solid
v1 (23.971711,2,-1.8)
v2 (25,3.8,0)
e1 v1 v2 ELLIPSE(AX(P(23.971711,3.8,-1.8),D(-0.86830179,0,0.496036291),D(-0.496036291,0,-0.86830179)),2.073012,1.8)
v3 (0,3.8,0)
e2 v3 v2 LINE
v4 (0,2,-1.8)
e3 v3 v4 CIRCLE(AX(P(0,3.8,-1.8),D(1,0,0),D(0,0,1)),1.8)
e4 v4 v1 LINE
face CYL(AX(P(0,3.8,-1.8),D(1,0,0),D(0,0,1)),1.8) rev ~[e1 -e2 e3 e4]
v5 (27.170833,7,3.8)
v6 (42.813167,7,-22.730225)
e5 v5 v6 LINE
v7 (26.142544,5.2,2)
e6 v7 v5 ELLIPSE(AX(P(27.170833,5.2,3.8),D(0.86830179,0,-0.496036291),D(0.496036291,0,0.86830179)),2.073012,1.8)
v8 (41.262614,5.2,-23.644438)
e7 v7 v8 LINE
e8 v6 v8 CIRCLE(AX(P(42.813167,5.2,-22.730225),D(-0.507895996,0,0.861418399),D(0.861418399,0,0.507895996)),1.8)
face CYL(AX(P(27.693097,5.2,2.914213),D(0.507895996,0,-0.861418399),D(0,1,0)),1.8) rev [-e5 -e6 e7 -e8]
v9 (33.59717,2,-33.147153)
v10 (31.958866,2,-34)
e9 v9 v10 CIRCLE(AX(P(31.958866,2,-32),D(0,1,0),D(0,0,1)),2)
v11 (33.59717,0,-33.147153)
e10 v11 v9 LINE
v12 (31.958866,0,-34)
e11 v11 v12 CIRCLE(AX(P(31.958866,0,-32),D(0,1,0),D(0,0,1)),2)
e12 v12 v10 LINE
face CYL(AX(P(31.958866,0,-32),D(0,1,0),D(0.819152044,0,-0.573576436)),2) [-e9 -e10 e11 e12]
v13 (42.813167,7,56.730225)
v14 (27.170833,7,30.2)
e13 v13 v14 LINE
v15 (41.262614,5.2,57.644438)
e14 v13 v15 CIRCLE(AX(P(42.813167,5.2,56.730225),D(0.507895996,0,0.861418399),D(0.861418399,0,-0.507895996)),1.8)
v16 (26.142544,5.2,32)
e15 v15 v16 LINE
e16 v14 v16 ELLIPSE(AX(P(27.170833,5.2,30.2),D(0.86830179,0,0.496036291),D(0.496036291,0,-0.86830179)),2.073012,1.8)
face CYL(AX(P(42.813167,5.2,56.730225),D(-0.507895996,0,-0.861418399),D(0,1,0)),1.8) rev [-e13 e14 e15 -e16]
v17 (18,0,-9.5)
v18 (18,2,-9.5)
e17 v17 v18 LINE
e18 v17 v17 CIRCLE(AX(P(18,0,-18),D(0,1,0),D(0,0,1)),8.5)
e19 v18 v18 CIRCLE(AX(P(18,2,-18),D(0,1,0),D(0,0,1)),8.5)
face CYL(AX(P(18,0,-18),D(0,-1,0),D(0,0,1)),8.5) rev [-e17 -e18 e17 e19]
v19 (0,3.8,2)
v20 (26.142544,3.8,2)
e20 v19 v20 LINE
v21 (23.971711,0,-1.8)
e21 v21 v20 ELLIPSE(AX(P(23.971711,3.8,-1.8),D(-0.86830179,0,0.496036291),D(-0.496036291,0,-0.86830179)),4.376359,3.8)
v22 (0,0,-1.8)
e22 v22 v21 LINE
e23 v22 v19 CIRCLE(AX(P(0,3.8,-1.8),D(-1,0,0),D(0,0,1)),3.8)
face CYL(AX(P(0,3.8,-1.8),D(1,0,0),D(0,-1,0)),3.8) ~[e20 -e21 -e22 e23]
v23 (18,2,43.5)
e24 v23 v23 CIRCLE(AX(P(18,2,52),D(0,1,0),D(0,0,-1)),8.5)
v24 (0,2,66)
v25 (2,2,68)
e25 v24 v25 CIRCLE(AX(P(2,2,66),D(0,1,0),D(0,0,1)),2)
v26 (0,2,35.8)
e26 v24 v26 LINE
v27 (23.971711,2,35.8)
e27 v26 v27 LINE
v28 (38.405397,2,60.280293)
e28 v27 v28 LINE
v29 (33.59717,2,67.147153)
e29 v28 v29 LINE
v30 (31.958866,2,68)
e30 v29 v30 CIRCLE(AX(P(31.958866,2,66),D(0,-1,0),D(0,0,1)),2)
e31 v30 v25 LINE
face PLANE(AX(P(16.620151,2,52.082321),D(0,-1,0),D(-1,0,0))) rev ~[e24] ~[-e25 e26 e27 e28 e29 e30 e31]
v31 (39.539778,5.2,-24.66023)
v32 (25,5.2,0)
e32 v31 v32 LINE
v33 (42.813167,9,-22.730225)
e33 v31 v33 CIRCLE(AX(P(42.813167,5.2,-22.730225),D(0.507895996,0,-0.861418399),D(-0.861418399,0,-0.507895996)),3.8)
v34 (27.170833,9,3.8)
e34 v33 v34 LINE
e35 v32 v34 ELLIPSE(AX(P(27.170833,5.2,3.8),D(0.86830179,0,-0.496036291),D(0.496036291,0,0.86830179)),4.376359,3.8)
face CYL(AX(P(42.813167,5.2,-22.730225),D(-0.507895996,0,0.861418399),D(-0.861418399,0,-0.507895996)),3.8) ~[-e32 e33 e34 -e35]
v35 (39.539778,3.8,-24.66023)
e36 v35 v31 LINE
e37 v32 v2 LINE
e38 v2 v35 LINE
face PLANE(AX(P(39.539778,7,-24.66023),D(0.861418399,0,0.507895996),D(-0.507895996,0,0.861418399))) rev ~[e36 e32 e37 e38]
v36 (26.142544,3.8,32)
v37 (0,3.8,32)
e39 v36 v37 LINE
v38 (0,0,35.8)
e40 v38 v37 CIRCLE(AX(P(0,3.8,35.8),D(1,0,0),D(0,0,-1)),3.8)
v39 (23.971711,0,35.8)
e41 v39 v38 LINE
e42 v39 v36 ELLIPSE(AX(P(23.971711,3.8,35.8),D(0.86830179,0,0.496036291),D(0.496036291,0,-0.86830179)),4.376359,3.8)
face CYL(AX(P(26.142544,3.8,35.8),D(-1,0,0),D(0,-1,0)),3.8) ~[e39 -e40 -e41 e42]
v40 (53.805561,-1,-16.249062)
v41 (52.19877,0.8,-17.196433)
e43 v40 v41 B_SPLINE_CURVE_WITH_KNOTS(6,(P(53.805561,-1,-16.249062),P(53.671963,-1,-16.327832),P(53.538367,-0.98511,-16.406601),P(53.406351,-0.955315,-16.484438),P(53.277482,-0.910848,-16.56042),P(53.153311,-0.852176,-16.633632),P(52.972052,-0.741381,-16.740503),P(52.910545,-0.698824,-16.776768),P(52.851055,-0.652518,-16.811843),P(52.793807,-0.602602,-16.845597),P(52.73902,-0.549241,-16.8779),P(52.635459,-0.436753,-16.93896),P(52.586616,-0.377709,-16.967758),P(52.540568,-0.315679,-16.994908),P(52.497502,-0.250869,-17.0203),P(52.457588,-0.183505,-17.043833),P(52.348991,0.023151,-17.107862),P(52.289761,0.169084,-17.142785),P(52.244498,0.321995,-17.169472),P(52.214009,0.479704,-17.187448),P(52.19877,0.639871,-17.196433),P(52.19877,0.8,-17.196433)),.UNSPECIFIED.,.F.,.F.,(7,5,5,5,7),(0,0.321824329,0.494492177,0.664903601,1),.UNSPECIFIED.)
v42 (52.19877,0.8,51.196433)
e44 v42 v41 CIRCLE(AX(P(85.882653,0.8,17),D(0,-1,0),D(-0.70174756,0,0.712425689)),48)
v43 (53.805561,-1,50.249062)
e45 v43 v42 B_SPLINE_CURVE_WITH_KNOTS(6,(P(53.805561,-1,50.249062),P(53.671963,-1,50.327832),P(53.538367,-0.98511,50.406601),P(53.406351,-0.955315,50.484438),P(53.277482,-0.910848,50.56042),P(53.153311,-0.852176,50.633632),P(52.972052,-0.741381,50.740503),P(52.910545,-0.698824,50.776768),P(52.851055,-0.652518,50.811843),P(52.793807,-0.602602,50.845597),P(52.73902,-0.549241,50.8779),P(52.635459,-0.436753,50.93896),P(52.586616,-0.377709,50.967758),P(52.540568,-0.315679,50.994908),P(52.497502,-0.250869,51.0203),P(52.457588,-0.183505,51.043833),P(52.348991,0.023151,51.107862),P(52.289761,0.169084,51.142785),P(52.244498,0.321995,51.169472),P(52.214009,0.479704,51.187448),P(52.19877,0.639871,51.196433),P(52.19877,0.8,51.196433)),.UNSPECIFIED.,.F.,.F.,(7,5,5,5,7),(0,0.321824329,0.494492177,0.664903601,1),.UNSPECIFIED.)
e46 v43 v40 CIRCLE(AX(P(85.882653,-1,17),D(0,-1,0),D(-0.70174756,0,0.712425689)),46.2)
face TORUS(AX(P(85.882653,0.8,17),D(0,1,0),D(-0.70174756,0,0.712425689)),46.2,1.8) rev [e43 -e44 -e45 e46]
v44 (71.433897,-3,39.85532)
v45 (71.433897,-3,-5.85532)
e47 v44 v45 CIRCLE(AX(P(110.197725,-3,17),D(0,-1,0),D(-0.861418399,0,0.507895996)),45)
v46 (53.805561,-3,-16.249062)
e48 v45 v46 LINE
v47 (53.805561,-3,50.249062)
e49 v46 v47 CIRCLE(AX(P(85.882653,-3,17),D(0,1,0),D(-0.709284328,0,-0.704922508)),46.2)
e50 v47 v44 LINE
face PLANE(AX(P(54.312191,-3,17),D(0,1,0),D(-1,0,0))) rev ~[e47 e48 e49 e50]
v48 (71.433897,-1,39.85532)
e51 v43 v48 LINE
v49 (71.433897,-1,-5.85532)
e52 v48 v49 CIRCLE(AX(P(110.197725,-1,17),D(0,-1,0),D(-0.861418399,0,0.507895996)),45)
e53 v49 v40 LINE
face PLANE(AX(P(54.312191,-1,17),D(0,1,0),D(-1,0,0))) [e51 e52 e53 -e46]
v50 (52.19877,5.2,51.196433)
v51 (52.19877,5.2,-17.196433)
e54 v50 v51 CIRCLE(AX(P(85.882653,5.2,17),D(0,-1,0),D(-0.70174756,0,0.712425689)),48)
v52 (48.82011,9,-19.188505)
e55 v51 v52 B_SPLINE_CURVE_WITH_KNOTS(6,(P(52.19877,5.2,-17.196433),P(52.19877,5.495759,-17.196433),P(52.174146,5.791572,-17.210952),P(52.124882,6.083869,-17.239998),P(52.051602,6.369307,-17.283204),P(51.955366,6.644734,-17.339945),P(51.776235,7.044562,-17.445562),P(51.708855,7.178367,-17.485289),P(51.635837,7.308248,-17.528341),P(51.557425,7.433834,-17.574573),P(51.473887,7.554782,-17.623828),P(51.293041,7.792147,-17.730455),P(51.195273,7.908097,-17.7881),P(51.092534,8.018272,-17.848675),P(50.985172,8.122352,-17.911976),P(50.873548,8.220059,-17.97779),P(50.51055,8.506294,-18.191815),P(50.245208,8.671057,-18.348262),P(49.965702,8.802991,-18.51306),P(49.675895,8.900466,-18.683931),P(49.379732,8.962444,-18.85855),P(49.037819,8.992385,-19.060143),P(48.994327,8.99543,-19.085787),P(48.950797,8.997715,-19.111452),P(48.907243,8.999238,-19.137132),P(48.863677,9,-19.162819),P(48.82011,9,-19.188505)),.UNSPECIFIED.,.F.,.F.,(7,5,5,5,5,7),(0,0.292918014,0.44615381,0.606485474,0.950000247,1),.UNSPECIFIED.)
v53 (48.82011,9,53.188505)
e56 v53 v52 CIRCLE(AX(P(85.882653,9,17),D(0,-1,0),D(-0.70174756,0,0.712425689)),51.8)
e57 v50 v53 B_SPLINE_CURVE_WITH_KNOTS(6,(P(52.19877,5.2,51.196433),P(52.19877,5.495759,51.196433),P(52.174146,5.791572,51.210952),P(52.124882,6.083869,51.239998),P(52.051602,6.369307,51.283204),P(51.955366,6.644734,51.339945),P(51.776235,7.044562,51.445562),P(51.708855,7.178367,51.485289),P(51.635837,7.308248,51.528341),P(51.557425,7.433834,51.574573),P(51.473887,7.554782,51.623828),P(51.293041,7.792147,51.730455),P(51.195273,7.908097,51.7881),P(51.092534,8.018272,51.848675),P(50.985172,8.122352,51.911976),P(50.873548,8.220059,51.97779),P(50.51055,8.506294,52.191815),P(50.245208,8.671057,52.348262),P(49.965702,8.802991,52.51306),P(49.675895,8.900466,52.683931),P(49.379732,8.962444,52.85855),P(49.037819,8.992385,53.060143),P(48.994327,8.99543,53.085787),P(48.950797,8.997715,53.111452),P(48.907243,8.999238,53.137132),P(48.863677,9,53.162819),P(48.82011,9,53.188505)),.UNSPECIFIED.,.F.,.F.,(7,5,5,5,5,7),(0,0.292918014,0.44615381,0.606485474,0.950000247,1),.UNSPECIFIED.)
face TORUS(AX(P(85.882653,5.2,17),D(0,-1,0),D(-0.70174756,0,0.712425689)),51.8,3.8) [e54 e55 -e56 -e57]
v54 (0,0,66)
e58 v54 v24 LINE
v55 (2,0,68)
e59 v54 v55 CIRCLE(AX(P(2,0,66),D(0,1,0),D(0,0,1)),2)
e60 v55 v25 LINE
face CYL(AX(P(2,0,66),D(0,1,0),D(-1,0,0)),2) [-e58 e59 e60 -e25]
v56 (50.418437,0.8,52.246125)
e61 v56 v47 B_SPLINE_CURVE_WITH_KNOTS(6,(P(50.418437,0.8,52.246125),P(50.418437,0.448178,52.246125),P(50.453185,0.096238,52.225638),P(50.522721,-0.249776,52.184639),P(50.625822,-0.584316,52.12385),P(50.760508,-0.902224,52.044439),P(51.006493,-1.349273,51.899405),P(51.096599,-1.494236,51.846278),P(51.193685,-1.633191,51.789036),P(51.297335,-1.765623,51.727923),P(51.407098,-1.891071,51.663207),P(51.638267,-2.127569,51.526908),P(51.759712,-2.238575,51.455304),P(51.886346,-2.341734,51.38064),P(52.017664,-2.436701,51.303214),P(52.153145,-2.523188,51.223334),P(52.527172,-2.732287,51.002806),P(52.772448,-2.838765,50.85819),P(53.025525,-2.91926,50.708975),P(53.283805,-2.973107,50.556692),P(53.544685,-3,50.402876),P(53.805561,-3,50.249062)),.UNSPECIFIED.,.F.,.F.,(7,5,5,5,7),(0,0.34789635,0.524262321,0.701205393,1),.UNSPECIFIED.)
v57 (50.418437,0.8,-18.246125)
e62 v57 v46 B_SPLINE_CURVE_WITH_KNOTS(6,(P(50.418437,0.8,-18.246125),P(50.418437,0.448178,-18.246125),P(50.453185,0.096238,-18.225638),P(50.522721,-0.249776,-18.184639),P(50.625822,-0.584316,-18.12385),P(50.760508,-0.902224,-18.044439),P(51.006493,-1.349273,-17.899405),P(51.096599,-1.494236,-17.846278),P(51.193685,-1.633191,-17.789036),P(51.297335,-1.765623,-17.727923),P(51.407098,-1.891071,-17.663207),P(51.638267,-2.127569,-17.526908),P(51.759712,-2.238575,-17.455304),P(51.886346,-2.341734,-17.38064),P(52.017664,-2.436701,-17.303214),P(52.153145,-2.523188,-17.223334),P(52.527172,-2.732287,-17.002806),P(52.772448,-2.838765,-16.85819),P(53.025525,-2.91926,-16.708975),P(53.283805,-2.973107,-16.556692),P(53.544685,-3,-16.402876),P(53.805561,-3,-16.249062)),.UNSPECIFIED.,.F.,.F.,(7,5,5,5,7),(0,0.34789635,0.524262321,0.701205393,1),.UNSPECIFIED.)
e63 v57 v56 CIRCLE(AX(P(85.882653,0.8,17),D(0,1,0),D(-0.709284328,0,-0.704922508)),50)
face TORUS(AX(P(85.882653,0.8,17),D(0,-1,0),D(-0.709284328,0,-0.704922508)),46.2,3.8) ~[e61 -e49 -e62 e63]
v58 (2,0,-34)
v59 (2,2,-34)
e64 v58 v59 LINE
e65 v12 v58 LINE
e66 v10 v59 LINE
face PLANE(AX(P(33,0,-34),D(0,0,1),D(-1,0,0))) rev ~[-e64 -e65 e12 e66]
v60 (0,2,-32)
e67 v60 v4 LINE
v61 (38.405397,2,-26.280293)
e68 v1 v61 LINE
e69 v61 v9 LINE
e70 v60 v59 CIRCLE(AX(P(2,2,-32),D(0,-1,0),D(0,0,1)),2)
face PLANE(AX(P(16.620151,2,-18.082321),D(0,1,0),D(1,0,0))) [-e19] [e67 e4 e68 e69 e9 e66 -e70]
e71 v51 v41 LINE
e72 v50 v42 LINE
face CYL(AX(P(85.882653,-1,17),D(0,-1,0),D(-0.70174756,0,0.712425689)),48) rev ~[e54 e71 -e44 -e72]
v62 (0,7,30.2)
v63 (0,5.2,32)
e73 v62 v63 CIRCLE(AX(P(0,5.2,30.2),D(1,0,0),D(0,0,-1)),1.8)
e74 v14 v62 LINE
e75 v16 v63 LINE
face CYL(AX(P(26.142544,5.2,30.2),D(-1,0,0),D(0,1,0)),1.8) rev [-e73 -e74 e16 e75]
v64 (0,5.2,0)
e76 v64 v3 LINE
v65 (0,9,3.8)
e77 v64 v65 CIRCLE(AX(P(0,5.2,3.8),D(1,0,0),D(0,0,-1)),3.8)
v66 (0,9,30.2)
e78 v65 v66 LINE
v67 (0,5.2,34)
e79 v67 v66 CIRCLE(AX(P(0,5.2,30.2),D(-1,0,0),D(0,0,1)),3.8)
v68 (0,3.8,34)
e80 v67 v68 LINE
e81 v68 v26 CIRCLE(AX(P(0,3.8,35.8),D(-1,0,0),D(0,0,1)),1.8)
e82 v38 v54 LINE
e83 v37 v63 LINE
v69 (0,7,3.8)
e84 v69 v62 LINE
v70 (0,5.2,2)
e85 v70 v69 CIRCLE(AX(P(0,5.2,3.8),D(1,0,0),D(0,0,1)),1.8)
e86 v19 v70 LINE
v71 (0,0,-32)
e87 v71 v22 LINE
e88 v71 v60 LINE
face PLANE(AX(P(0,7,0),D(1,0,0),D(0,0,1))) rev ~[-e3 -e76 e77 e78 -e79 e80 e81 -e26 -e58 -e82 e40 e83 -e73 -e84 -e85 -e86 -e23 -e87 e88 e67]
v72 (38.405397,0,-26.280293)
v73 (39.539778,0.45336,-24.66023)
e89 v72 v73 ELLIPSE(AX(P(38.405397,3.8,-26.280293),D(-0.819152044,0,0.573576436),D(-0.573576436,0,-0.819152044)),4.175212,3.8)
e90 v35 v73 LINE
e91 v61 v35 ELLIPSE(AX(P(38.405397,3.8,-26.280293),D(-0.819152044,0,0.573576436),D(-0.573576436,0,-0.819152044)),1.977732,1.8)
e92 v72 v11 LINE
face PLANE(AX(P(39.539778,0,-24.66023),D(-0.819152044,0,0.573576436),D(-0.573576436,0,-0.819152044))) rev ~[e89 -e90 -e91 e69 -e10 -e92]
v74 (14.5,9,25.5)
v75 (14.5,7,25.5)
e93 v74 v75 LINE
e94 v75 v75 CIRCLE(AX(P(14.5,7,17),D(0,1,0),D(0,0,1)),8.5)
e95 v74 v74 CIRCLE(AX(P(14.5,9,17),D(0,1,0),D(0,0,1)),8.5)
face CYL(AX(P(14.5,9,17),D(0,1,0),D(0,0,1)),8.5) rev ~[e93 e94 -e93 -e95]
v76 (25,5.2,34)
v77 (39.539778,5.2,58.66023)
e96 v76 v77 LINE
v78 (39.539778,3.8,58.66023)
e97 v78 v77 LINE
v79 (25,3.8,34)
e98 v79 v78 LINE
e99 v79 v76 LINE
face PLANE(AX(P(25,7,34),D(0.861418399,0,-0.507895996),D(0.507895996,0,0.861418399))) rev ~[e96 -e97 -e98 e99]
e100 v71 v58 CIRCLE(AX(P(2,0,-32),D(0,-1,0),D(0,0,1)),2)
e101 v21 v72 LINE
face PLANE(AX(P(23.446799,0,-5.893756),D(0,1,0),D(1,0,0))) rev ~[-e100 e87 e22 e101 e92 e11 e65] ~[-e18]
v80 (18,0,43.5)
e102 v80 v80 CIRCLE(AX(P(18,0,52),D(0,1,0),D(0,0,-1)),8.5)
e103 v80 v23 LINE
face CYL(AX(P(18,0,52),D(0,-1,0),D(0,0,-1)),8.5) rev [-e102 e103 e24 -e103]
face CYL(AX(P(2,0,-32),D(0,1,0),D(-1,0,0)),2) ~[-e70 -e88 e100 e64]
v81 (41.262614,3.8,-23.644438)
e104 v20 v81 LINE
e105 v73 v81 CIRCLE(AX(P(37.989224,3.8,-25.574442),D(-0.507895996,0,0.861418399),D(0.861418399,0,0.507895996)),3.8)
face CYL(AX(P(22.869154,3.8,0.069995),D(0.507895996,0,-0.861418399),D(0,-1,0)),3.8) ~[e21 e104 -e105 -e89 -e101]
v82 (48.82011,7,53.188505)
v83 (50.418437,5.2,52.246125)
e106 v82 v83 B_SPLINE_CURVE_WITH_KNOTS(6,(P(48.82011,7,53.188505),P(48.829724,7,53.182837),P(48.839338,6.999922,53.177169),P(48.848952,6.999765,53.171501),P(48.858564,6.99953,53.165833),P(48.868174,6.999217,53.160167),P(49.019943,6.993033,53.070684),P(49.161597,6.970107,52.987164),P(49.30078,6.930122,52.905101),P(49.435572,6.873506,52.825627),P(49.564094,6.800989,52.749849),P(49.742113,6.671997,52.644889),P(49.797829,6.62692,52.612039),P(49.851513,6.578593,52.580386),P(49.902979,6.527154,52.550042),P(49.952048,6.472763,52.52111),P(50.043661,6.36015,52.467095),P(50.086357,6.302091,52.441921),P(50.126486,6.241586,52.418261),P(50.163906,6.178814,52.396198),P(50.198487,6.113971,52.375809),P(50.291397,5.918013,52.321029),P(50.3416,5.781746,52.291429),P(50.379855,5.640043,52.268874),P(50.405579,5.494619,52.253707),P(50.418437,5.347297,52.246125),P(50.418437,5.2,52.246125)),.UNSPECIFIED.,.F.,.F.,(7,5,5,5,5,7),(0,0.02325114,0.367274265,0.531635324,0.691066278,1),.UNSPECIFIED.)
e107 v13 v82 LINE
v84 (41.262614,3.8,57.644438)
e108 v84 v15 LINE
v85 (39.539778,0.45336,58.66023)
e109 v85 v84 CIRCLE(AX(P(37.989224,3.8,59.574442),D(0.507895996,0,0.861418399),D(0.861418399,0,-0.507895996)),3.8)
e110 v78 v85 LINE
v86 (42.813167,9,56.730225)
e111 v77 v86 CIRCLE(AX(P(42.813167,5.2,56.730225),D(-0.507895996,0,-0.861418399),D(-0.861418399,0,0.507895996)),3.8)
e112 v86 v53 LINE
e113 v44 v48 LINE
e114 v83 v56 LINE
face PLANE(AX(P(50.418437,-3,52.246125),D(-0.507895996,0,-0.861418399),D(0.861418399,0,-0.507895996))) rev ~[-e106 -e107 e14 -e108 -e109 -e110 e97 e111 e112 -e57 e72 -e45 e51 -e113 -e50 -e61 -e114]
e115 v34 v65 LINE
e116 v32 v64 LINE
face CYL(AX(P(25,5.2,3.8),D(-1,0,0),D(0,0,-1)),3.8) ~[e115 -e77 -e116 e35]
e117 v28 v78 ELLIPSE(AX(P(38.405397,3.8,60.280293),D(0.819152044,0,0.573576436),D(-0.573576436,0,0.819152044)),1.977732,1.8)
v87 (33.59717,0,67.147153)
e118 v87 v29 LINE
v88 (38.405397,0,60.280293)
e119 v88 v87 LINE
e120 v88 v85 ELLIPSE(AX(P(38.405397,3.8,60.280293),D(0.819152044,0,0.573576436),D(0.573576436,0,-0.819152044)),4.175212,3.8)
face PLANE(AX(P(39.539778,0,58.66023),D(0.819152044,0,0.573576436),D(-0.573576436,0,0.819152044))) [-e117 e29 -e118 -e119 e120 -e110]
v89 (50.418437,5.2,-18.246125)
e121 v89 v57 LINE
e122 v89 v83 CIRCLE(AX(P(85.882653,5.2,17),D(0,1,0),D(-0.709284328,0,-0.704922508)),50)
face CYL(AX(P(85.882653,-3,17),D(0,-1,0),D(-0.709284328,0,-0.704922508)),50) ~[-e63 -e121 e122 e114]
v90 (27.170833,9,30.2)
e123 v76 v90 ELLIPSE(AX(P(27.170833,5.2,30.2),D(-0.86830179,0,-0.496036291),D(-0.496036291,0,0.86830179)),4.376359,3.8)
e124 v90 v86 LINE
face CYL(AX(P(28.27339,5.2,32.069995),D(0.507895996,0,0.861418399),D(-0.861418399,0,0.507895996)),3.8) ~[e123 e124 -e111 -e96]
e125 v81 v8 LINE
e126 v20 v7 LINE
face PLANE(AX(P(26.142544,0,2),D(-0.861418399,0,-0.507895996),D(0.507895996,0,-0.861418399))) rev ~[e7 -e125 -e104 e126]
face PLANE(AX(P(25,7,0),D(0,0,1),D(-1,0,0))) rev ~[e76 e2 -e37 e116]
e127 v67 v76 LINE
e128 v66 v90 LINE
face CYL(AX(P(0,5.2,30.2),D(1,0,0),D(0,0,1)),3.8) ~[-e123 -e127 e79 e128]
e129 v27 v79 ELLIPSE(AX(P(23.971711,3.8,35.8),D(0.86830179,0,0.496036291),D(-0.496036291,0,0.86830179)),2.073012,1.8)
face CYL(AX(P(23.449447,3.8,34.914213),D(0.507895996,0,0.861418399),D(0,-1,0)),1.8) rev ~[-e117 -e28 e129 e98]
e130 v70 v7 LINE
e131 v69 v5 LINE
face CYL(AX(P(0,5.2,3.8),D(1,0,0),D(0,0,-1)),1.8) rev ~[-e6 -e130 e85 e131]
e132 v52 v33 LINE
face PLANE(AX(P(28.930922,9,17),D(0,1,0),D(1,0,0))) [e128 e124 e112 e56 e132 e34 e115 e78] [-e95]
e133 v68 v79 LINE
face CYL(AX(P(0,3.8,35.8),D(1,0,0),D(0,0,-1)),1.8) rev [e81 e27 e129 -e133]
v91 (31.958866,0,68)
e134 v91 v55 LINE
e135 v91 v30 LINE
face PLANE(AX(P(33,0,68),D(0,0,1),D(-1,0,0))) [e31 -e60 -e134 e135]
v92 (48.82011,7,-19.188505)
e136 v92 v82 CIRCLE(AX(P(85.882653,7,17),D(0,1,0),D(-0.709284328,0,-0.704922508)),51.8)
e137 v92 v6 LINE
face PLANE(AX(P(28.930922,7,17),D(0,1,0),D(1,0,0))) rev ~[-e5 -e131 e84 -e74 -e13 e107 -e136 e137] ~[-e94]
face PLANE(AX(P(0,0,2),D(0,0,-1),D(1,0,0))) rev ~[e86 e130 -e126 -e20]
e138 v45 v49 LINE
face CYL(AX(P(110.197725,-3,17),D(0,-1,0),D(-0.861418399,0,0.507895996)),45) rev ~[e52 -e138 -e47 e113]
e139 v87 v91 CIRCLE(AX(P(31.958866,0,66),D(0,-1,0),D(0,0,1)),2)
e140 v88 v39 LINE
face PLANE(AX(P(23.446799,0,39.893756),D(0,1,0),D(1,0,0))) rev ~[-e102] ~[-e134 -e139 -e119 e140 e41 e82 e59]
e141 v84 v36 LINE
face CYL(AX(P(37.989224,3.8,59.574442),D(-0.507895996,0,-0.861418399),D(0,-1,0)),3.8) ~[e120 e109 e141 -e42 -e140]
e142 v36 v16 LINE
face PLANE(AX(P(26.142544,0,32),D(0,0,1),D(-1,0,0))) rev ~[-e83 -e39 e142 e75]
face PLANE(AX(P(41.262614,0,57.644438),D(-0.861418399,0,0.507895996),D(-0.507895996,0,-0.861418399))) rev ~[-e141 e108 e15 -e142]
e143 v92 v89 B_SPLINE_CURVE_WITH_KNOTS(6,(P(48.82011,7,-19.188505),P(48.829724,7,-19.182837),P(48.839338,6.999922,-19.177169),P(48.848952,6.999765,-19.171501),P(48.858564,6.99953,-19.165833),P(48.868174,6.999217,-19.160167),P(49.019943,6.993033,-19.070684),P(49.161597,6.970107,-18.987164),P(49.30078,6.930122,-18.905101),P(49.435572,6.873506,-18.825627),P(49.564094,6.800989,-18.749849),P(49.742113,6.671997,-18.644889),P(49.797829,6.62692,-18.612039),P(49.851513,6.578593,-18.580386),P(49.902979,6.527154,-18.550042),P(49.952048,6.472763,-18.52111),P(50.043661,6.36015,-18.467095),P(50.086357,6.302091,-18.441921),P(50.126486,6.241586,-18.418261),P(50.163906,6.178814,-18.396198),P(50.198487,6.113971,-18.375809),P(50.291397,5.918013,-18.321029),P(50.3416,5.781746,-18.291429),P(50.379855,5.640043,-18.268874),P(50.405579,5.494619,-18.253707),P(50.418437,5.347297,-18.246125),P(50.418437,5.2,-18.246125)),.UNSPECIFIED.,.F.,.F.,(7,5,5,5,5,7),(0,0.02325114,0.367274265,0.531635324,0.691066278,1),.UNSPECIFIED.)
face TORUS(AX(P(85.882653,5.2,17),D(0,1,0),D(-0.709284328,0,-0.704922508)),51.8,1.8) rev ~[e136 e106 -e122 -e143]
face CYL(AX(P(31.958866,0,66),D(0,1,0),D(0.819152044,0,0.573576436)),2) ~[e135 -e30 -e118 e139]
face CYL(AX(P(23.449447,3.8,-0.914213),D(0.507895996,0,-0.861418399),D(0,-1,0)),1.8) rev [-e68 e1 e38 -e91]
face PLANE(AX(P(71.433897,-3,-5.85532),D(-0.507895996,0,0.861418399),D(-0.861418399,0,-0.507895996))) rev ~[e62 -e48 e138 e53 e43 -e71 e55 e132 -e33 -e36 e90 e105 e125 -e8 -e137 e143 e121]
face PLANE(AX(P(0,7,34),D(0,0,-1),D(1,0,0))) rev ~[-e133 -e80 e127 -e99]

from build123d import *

# Parameters (mm, degrees)
SKETCH_1_R           = 8.5
EXTRUDE_1_DEPTH      = 2
EXTRUDE_1_2_DEPTH    = 2
EXTRUDE_7_DEPTH      = 5
EXTRUDE_7_DEPTH_BACK = 2
EXTRUDE_8_DEPTH      = 2
FILLET_1_R           = 3.8
FILLET_2_R           = 1.8
SKETCH_5_R           = 8.500000000000004
CUT_EXTRUDE_1_DEPTH  = 2
EXTRUDE_START        = 8
EXTRUDE_9_DEPTH      = 8
EXTRUDE_START_2      = 2
EXTRUDE_10_DEPTH     = 2
FILLET_3_R           = 1.8
FILLET_4_R           = 3.8
FILLET_5_R           = 2


with BuildPart() as part:
    # Эскиз1 → Бобышка-Вытянуть1 (new body)
    with BuildSketch(Plane(origin=(0, 0, 0), x_dir=(1, 0, 0), z_dir=(0, 1, 0))):
        Polygon((0, 0), (25, 0), (39.53977757143407, 24.66022969681975), (33, 34), (0, 34), align=None)
        with Locations(Location((18, 18.000000000000004, 0), (0, 0, 270))):
            Circle(SKETCH_1_R, mode=Mode.SUBTRACT)
    extrude(amount=EXTRUDE_1_DEPTH)



with BuildPart() as body_2:
    # Эскиз1 → Extrude 1 2 (new body)
    with BuildSketch(Plane(origin=(0, 0, 0), x_dir=(1, 0, 0), z_dir=(0, 1, 0))):
        Polygon((39.539777571434044, -58.66022969681975), (32.99999999999997, -68), (-1.388e-14, -68), (-1.388e-14, -34), (24.999999999999975, -34), align=None)
        with Locations(Location((17.99999999999997, -52.00000000000001, 0), (0, 0, 90))):
            Circle(SKETCH_1_R, mode=Mode.SUBTRACT)
    extrude(amount=EXTRUDE_1_2_DEPTH)


with BuildPart() as part_1:
    add(part.part)

    add(body_2.part)  # Бобышка-Вытянуть7 merges body 2
    # Эскиз2 → Бобышка-Вытянуть7 (add, two sides: drawn at the far end of the back side and taken through both)
    with BuildSketch(Plane(origin=(0, 2, 0), x_dir=(1, 0, 0), z_dir=(0, 1, 0)).offset(-EXTRUDE_7_DEPTH_BACK)):
        Polygon((0, 0), (2.4e-16, -2), (26.142543519238394, -1.9999999999999973), (41.262614368883476, 23.64443770563539), (39.53977757143407, 24.66022969681975), (25, 0), align=None)
        Polygon((-1.388e-14, -34), (24.999999999999975, -34), (39.539777571434044, -58.66022969681975), (41.26261436888351, -57.644437705635355), (26.142543519238462, -32), (0, -32), align=None)
    extrude(amount=EXTRUDE_7_DEPTH + EXTRUDE_7_DEPTH_BACK)

    # Эскиз4 → Бобышка-Вытянуть8 (add)
    with BuildSketch(Plane(origin=(0, 7, 0), x_dir=(1, 0, 0), z_dir=(0, 1, 0))):
        with BuildLine():
            Line((-1.388e-14, -34), (24.999999999999922, -34.00000000000004))
            Line((24.999999999999922, -34.00000000000004), (39.539777571434044, -58.66022969681975))
            Line((39.539777571434044, -58.66022969681975), (52.19877033120313, -51.196433079013936))
            ThreePointArc((52.19877033120313, -51.196433079013936), (37.882653193375084, -16.999999999999993), (52.19877033120313, 17.196433079013932))
            Line((52.19877033120313, 17.196433079013932), (39.539777571434044, 24.660229696819748))
            Line((39.539777571434044, 24.660229696819748), (24.999999999999982, 0))
            Line((24.999999999999982, 0), (-1.388e-14, 0))
            Line((-1.388e-14, 0), (-1.388e-14, -34))
        make_face()
    extrude(amount=EXTRUDE_8_DEPTH)

    # Скругление1
    fillet_1_edges = [part_1.edges().sort_by_distance(p)[0] for p in [
        (33.70257894406093, 0, -10.822218852817695),
        (33.70257894406099, 0, 44.82221885281768),
        (32.26988878571699, 9, 46.33011484840989),
        (12.499999999999954, 9, 34.00000000000002),
        (32.269888785717015, 9, -12.330114848409874),
        (12.499999999999984, 9, 0),
        (13.071271759619231, 0, 32),
        (13.071271759619197, 0, 1.9999999999999987),
    ]]
    fillet(fillet_1_edges, radius=FILLET_1_R)

    # Скругление2
    fillet_2_edges = [part_1.edges().sort_by_distance(p)[0] for p in [
        (32.269888785717036, 2, -12.330114848409876),
        (13.071271759619197, 7, 1.9999999999999987),
        (33.70257894406093, 7, -10.822218852817695),
        (32.26988878571701, 2, 46.33011484840988),
        (12.49999999999998, 2, 34),
        (33.70257894406099, 7, 44.82221885281768),
        (13.071271759619231, 7, 32),
        (12.5, 2, 0),
    ]]
    fillet(fillet_2_edges, radius=FILLET_2_R)

    # Эскиз5 → Вырез-Вытянуть1 (cut)
    with BuildSketch(Plane(origin=(0, 9.000000000000002, 0), x_dir=(1, 0, 0), z_dir=(0, 1, 0))):
        with Locations(Location((14.500000000000002, -17, 0), (0, 0, 270))):
            Circle(SKETCH_5_R)
    extrude(amount=-CUT_EXTRUDE_1_DEPTH, mode=Mode.SUBTRACT)

    # Эскиз6 → Бобышка-Вытянуть9 (add)
    with BuildSketch(Plane.XZ.offset(-7).offset(EXTRUDE_START)):
        with BuildLine():
            Line((52.19877033120314, -17.19643307901394), (50.41843679588763, -18.246125394320746))
            ThreePointArc((50.41843679588763, -18.246125394320746), (35.882653193375084, 17.000000000000007), (50.41843679588763, 52.24612539432075))
            Line((50.41843679588763, 52.24612539432075), (52.19877033120313, 51.196433079013936))
            ThreePointArc((52.19877033120313, 51.196433079013936), (37.882653193375084, 16.999999999999986), (52.19877033120314, -17.19643307901394))
        make_face()
    extrude(amount=-EXTRUDE_9_DEPTH)

    # Эскиз7 → Бобышка-Вытянуть10 (add)
    with BuildSketch(Plane.XZ.offset(1).offset(EXTRUDE_START_2)):
        with BuildLine():
            Line((50.41843679588763, 52.24612539432075), (71.4338966640132, 39.85531980164811))
            ThreePointArc((71.4338966640132, 39.85531980164811), (65.19772460662475, 17.000000000000007), (71.43389666401319, -5.8553198016480925))
            Line((71.43389666401319, -5.8553198016480925), (50.418436795887615, -18.24612539432073))
            ThreePointArc((50.418436795887615, -18.24612539432073), (35.882653193375084, 17.000000000000007), (50.41843679588763, 52.24612539432075))
        make_face()
    extrude(amount=-EXTRUDE_10_DEPTH)

    # Скругление3
    fillet_3_edges = [part_1.edges().sort_by_distance(p)[0] for p in [
        (35.88265319337508, 7, 17.000000000000007),
        (37.88265319337509, -1, 16.999999999999996),
    ]]
    fillet(fillet_3_edges, radius=FILLET_3_R)

    # Скругление4
    fillet_4_edges = [part_1.edges().sort_by_distance(p)[0] for p in [
        (35.88265319337508, -3, 17.000000000000014),
        (37.882653193375084, 9, 17.000000000000004),
    ]]
    fillet(fillet_4_edges, radius=FILLET_4_R)

    # Скругление5
    fillet_5_edges = [part_1.edges().sort_by_distance(p)[0] for p in [
        (-1.388e-14, 1, 68),
        (32.99999999999997, 1, 68),
        (0, 1, -34),
        (33, 1, -34),
    ]]
    fillet(fillet_5_edges, radius=FILLET_5_R)


solid = part_1.part
